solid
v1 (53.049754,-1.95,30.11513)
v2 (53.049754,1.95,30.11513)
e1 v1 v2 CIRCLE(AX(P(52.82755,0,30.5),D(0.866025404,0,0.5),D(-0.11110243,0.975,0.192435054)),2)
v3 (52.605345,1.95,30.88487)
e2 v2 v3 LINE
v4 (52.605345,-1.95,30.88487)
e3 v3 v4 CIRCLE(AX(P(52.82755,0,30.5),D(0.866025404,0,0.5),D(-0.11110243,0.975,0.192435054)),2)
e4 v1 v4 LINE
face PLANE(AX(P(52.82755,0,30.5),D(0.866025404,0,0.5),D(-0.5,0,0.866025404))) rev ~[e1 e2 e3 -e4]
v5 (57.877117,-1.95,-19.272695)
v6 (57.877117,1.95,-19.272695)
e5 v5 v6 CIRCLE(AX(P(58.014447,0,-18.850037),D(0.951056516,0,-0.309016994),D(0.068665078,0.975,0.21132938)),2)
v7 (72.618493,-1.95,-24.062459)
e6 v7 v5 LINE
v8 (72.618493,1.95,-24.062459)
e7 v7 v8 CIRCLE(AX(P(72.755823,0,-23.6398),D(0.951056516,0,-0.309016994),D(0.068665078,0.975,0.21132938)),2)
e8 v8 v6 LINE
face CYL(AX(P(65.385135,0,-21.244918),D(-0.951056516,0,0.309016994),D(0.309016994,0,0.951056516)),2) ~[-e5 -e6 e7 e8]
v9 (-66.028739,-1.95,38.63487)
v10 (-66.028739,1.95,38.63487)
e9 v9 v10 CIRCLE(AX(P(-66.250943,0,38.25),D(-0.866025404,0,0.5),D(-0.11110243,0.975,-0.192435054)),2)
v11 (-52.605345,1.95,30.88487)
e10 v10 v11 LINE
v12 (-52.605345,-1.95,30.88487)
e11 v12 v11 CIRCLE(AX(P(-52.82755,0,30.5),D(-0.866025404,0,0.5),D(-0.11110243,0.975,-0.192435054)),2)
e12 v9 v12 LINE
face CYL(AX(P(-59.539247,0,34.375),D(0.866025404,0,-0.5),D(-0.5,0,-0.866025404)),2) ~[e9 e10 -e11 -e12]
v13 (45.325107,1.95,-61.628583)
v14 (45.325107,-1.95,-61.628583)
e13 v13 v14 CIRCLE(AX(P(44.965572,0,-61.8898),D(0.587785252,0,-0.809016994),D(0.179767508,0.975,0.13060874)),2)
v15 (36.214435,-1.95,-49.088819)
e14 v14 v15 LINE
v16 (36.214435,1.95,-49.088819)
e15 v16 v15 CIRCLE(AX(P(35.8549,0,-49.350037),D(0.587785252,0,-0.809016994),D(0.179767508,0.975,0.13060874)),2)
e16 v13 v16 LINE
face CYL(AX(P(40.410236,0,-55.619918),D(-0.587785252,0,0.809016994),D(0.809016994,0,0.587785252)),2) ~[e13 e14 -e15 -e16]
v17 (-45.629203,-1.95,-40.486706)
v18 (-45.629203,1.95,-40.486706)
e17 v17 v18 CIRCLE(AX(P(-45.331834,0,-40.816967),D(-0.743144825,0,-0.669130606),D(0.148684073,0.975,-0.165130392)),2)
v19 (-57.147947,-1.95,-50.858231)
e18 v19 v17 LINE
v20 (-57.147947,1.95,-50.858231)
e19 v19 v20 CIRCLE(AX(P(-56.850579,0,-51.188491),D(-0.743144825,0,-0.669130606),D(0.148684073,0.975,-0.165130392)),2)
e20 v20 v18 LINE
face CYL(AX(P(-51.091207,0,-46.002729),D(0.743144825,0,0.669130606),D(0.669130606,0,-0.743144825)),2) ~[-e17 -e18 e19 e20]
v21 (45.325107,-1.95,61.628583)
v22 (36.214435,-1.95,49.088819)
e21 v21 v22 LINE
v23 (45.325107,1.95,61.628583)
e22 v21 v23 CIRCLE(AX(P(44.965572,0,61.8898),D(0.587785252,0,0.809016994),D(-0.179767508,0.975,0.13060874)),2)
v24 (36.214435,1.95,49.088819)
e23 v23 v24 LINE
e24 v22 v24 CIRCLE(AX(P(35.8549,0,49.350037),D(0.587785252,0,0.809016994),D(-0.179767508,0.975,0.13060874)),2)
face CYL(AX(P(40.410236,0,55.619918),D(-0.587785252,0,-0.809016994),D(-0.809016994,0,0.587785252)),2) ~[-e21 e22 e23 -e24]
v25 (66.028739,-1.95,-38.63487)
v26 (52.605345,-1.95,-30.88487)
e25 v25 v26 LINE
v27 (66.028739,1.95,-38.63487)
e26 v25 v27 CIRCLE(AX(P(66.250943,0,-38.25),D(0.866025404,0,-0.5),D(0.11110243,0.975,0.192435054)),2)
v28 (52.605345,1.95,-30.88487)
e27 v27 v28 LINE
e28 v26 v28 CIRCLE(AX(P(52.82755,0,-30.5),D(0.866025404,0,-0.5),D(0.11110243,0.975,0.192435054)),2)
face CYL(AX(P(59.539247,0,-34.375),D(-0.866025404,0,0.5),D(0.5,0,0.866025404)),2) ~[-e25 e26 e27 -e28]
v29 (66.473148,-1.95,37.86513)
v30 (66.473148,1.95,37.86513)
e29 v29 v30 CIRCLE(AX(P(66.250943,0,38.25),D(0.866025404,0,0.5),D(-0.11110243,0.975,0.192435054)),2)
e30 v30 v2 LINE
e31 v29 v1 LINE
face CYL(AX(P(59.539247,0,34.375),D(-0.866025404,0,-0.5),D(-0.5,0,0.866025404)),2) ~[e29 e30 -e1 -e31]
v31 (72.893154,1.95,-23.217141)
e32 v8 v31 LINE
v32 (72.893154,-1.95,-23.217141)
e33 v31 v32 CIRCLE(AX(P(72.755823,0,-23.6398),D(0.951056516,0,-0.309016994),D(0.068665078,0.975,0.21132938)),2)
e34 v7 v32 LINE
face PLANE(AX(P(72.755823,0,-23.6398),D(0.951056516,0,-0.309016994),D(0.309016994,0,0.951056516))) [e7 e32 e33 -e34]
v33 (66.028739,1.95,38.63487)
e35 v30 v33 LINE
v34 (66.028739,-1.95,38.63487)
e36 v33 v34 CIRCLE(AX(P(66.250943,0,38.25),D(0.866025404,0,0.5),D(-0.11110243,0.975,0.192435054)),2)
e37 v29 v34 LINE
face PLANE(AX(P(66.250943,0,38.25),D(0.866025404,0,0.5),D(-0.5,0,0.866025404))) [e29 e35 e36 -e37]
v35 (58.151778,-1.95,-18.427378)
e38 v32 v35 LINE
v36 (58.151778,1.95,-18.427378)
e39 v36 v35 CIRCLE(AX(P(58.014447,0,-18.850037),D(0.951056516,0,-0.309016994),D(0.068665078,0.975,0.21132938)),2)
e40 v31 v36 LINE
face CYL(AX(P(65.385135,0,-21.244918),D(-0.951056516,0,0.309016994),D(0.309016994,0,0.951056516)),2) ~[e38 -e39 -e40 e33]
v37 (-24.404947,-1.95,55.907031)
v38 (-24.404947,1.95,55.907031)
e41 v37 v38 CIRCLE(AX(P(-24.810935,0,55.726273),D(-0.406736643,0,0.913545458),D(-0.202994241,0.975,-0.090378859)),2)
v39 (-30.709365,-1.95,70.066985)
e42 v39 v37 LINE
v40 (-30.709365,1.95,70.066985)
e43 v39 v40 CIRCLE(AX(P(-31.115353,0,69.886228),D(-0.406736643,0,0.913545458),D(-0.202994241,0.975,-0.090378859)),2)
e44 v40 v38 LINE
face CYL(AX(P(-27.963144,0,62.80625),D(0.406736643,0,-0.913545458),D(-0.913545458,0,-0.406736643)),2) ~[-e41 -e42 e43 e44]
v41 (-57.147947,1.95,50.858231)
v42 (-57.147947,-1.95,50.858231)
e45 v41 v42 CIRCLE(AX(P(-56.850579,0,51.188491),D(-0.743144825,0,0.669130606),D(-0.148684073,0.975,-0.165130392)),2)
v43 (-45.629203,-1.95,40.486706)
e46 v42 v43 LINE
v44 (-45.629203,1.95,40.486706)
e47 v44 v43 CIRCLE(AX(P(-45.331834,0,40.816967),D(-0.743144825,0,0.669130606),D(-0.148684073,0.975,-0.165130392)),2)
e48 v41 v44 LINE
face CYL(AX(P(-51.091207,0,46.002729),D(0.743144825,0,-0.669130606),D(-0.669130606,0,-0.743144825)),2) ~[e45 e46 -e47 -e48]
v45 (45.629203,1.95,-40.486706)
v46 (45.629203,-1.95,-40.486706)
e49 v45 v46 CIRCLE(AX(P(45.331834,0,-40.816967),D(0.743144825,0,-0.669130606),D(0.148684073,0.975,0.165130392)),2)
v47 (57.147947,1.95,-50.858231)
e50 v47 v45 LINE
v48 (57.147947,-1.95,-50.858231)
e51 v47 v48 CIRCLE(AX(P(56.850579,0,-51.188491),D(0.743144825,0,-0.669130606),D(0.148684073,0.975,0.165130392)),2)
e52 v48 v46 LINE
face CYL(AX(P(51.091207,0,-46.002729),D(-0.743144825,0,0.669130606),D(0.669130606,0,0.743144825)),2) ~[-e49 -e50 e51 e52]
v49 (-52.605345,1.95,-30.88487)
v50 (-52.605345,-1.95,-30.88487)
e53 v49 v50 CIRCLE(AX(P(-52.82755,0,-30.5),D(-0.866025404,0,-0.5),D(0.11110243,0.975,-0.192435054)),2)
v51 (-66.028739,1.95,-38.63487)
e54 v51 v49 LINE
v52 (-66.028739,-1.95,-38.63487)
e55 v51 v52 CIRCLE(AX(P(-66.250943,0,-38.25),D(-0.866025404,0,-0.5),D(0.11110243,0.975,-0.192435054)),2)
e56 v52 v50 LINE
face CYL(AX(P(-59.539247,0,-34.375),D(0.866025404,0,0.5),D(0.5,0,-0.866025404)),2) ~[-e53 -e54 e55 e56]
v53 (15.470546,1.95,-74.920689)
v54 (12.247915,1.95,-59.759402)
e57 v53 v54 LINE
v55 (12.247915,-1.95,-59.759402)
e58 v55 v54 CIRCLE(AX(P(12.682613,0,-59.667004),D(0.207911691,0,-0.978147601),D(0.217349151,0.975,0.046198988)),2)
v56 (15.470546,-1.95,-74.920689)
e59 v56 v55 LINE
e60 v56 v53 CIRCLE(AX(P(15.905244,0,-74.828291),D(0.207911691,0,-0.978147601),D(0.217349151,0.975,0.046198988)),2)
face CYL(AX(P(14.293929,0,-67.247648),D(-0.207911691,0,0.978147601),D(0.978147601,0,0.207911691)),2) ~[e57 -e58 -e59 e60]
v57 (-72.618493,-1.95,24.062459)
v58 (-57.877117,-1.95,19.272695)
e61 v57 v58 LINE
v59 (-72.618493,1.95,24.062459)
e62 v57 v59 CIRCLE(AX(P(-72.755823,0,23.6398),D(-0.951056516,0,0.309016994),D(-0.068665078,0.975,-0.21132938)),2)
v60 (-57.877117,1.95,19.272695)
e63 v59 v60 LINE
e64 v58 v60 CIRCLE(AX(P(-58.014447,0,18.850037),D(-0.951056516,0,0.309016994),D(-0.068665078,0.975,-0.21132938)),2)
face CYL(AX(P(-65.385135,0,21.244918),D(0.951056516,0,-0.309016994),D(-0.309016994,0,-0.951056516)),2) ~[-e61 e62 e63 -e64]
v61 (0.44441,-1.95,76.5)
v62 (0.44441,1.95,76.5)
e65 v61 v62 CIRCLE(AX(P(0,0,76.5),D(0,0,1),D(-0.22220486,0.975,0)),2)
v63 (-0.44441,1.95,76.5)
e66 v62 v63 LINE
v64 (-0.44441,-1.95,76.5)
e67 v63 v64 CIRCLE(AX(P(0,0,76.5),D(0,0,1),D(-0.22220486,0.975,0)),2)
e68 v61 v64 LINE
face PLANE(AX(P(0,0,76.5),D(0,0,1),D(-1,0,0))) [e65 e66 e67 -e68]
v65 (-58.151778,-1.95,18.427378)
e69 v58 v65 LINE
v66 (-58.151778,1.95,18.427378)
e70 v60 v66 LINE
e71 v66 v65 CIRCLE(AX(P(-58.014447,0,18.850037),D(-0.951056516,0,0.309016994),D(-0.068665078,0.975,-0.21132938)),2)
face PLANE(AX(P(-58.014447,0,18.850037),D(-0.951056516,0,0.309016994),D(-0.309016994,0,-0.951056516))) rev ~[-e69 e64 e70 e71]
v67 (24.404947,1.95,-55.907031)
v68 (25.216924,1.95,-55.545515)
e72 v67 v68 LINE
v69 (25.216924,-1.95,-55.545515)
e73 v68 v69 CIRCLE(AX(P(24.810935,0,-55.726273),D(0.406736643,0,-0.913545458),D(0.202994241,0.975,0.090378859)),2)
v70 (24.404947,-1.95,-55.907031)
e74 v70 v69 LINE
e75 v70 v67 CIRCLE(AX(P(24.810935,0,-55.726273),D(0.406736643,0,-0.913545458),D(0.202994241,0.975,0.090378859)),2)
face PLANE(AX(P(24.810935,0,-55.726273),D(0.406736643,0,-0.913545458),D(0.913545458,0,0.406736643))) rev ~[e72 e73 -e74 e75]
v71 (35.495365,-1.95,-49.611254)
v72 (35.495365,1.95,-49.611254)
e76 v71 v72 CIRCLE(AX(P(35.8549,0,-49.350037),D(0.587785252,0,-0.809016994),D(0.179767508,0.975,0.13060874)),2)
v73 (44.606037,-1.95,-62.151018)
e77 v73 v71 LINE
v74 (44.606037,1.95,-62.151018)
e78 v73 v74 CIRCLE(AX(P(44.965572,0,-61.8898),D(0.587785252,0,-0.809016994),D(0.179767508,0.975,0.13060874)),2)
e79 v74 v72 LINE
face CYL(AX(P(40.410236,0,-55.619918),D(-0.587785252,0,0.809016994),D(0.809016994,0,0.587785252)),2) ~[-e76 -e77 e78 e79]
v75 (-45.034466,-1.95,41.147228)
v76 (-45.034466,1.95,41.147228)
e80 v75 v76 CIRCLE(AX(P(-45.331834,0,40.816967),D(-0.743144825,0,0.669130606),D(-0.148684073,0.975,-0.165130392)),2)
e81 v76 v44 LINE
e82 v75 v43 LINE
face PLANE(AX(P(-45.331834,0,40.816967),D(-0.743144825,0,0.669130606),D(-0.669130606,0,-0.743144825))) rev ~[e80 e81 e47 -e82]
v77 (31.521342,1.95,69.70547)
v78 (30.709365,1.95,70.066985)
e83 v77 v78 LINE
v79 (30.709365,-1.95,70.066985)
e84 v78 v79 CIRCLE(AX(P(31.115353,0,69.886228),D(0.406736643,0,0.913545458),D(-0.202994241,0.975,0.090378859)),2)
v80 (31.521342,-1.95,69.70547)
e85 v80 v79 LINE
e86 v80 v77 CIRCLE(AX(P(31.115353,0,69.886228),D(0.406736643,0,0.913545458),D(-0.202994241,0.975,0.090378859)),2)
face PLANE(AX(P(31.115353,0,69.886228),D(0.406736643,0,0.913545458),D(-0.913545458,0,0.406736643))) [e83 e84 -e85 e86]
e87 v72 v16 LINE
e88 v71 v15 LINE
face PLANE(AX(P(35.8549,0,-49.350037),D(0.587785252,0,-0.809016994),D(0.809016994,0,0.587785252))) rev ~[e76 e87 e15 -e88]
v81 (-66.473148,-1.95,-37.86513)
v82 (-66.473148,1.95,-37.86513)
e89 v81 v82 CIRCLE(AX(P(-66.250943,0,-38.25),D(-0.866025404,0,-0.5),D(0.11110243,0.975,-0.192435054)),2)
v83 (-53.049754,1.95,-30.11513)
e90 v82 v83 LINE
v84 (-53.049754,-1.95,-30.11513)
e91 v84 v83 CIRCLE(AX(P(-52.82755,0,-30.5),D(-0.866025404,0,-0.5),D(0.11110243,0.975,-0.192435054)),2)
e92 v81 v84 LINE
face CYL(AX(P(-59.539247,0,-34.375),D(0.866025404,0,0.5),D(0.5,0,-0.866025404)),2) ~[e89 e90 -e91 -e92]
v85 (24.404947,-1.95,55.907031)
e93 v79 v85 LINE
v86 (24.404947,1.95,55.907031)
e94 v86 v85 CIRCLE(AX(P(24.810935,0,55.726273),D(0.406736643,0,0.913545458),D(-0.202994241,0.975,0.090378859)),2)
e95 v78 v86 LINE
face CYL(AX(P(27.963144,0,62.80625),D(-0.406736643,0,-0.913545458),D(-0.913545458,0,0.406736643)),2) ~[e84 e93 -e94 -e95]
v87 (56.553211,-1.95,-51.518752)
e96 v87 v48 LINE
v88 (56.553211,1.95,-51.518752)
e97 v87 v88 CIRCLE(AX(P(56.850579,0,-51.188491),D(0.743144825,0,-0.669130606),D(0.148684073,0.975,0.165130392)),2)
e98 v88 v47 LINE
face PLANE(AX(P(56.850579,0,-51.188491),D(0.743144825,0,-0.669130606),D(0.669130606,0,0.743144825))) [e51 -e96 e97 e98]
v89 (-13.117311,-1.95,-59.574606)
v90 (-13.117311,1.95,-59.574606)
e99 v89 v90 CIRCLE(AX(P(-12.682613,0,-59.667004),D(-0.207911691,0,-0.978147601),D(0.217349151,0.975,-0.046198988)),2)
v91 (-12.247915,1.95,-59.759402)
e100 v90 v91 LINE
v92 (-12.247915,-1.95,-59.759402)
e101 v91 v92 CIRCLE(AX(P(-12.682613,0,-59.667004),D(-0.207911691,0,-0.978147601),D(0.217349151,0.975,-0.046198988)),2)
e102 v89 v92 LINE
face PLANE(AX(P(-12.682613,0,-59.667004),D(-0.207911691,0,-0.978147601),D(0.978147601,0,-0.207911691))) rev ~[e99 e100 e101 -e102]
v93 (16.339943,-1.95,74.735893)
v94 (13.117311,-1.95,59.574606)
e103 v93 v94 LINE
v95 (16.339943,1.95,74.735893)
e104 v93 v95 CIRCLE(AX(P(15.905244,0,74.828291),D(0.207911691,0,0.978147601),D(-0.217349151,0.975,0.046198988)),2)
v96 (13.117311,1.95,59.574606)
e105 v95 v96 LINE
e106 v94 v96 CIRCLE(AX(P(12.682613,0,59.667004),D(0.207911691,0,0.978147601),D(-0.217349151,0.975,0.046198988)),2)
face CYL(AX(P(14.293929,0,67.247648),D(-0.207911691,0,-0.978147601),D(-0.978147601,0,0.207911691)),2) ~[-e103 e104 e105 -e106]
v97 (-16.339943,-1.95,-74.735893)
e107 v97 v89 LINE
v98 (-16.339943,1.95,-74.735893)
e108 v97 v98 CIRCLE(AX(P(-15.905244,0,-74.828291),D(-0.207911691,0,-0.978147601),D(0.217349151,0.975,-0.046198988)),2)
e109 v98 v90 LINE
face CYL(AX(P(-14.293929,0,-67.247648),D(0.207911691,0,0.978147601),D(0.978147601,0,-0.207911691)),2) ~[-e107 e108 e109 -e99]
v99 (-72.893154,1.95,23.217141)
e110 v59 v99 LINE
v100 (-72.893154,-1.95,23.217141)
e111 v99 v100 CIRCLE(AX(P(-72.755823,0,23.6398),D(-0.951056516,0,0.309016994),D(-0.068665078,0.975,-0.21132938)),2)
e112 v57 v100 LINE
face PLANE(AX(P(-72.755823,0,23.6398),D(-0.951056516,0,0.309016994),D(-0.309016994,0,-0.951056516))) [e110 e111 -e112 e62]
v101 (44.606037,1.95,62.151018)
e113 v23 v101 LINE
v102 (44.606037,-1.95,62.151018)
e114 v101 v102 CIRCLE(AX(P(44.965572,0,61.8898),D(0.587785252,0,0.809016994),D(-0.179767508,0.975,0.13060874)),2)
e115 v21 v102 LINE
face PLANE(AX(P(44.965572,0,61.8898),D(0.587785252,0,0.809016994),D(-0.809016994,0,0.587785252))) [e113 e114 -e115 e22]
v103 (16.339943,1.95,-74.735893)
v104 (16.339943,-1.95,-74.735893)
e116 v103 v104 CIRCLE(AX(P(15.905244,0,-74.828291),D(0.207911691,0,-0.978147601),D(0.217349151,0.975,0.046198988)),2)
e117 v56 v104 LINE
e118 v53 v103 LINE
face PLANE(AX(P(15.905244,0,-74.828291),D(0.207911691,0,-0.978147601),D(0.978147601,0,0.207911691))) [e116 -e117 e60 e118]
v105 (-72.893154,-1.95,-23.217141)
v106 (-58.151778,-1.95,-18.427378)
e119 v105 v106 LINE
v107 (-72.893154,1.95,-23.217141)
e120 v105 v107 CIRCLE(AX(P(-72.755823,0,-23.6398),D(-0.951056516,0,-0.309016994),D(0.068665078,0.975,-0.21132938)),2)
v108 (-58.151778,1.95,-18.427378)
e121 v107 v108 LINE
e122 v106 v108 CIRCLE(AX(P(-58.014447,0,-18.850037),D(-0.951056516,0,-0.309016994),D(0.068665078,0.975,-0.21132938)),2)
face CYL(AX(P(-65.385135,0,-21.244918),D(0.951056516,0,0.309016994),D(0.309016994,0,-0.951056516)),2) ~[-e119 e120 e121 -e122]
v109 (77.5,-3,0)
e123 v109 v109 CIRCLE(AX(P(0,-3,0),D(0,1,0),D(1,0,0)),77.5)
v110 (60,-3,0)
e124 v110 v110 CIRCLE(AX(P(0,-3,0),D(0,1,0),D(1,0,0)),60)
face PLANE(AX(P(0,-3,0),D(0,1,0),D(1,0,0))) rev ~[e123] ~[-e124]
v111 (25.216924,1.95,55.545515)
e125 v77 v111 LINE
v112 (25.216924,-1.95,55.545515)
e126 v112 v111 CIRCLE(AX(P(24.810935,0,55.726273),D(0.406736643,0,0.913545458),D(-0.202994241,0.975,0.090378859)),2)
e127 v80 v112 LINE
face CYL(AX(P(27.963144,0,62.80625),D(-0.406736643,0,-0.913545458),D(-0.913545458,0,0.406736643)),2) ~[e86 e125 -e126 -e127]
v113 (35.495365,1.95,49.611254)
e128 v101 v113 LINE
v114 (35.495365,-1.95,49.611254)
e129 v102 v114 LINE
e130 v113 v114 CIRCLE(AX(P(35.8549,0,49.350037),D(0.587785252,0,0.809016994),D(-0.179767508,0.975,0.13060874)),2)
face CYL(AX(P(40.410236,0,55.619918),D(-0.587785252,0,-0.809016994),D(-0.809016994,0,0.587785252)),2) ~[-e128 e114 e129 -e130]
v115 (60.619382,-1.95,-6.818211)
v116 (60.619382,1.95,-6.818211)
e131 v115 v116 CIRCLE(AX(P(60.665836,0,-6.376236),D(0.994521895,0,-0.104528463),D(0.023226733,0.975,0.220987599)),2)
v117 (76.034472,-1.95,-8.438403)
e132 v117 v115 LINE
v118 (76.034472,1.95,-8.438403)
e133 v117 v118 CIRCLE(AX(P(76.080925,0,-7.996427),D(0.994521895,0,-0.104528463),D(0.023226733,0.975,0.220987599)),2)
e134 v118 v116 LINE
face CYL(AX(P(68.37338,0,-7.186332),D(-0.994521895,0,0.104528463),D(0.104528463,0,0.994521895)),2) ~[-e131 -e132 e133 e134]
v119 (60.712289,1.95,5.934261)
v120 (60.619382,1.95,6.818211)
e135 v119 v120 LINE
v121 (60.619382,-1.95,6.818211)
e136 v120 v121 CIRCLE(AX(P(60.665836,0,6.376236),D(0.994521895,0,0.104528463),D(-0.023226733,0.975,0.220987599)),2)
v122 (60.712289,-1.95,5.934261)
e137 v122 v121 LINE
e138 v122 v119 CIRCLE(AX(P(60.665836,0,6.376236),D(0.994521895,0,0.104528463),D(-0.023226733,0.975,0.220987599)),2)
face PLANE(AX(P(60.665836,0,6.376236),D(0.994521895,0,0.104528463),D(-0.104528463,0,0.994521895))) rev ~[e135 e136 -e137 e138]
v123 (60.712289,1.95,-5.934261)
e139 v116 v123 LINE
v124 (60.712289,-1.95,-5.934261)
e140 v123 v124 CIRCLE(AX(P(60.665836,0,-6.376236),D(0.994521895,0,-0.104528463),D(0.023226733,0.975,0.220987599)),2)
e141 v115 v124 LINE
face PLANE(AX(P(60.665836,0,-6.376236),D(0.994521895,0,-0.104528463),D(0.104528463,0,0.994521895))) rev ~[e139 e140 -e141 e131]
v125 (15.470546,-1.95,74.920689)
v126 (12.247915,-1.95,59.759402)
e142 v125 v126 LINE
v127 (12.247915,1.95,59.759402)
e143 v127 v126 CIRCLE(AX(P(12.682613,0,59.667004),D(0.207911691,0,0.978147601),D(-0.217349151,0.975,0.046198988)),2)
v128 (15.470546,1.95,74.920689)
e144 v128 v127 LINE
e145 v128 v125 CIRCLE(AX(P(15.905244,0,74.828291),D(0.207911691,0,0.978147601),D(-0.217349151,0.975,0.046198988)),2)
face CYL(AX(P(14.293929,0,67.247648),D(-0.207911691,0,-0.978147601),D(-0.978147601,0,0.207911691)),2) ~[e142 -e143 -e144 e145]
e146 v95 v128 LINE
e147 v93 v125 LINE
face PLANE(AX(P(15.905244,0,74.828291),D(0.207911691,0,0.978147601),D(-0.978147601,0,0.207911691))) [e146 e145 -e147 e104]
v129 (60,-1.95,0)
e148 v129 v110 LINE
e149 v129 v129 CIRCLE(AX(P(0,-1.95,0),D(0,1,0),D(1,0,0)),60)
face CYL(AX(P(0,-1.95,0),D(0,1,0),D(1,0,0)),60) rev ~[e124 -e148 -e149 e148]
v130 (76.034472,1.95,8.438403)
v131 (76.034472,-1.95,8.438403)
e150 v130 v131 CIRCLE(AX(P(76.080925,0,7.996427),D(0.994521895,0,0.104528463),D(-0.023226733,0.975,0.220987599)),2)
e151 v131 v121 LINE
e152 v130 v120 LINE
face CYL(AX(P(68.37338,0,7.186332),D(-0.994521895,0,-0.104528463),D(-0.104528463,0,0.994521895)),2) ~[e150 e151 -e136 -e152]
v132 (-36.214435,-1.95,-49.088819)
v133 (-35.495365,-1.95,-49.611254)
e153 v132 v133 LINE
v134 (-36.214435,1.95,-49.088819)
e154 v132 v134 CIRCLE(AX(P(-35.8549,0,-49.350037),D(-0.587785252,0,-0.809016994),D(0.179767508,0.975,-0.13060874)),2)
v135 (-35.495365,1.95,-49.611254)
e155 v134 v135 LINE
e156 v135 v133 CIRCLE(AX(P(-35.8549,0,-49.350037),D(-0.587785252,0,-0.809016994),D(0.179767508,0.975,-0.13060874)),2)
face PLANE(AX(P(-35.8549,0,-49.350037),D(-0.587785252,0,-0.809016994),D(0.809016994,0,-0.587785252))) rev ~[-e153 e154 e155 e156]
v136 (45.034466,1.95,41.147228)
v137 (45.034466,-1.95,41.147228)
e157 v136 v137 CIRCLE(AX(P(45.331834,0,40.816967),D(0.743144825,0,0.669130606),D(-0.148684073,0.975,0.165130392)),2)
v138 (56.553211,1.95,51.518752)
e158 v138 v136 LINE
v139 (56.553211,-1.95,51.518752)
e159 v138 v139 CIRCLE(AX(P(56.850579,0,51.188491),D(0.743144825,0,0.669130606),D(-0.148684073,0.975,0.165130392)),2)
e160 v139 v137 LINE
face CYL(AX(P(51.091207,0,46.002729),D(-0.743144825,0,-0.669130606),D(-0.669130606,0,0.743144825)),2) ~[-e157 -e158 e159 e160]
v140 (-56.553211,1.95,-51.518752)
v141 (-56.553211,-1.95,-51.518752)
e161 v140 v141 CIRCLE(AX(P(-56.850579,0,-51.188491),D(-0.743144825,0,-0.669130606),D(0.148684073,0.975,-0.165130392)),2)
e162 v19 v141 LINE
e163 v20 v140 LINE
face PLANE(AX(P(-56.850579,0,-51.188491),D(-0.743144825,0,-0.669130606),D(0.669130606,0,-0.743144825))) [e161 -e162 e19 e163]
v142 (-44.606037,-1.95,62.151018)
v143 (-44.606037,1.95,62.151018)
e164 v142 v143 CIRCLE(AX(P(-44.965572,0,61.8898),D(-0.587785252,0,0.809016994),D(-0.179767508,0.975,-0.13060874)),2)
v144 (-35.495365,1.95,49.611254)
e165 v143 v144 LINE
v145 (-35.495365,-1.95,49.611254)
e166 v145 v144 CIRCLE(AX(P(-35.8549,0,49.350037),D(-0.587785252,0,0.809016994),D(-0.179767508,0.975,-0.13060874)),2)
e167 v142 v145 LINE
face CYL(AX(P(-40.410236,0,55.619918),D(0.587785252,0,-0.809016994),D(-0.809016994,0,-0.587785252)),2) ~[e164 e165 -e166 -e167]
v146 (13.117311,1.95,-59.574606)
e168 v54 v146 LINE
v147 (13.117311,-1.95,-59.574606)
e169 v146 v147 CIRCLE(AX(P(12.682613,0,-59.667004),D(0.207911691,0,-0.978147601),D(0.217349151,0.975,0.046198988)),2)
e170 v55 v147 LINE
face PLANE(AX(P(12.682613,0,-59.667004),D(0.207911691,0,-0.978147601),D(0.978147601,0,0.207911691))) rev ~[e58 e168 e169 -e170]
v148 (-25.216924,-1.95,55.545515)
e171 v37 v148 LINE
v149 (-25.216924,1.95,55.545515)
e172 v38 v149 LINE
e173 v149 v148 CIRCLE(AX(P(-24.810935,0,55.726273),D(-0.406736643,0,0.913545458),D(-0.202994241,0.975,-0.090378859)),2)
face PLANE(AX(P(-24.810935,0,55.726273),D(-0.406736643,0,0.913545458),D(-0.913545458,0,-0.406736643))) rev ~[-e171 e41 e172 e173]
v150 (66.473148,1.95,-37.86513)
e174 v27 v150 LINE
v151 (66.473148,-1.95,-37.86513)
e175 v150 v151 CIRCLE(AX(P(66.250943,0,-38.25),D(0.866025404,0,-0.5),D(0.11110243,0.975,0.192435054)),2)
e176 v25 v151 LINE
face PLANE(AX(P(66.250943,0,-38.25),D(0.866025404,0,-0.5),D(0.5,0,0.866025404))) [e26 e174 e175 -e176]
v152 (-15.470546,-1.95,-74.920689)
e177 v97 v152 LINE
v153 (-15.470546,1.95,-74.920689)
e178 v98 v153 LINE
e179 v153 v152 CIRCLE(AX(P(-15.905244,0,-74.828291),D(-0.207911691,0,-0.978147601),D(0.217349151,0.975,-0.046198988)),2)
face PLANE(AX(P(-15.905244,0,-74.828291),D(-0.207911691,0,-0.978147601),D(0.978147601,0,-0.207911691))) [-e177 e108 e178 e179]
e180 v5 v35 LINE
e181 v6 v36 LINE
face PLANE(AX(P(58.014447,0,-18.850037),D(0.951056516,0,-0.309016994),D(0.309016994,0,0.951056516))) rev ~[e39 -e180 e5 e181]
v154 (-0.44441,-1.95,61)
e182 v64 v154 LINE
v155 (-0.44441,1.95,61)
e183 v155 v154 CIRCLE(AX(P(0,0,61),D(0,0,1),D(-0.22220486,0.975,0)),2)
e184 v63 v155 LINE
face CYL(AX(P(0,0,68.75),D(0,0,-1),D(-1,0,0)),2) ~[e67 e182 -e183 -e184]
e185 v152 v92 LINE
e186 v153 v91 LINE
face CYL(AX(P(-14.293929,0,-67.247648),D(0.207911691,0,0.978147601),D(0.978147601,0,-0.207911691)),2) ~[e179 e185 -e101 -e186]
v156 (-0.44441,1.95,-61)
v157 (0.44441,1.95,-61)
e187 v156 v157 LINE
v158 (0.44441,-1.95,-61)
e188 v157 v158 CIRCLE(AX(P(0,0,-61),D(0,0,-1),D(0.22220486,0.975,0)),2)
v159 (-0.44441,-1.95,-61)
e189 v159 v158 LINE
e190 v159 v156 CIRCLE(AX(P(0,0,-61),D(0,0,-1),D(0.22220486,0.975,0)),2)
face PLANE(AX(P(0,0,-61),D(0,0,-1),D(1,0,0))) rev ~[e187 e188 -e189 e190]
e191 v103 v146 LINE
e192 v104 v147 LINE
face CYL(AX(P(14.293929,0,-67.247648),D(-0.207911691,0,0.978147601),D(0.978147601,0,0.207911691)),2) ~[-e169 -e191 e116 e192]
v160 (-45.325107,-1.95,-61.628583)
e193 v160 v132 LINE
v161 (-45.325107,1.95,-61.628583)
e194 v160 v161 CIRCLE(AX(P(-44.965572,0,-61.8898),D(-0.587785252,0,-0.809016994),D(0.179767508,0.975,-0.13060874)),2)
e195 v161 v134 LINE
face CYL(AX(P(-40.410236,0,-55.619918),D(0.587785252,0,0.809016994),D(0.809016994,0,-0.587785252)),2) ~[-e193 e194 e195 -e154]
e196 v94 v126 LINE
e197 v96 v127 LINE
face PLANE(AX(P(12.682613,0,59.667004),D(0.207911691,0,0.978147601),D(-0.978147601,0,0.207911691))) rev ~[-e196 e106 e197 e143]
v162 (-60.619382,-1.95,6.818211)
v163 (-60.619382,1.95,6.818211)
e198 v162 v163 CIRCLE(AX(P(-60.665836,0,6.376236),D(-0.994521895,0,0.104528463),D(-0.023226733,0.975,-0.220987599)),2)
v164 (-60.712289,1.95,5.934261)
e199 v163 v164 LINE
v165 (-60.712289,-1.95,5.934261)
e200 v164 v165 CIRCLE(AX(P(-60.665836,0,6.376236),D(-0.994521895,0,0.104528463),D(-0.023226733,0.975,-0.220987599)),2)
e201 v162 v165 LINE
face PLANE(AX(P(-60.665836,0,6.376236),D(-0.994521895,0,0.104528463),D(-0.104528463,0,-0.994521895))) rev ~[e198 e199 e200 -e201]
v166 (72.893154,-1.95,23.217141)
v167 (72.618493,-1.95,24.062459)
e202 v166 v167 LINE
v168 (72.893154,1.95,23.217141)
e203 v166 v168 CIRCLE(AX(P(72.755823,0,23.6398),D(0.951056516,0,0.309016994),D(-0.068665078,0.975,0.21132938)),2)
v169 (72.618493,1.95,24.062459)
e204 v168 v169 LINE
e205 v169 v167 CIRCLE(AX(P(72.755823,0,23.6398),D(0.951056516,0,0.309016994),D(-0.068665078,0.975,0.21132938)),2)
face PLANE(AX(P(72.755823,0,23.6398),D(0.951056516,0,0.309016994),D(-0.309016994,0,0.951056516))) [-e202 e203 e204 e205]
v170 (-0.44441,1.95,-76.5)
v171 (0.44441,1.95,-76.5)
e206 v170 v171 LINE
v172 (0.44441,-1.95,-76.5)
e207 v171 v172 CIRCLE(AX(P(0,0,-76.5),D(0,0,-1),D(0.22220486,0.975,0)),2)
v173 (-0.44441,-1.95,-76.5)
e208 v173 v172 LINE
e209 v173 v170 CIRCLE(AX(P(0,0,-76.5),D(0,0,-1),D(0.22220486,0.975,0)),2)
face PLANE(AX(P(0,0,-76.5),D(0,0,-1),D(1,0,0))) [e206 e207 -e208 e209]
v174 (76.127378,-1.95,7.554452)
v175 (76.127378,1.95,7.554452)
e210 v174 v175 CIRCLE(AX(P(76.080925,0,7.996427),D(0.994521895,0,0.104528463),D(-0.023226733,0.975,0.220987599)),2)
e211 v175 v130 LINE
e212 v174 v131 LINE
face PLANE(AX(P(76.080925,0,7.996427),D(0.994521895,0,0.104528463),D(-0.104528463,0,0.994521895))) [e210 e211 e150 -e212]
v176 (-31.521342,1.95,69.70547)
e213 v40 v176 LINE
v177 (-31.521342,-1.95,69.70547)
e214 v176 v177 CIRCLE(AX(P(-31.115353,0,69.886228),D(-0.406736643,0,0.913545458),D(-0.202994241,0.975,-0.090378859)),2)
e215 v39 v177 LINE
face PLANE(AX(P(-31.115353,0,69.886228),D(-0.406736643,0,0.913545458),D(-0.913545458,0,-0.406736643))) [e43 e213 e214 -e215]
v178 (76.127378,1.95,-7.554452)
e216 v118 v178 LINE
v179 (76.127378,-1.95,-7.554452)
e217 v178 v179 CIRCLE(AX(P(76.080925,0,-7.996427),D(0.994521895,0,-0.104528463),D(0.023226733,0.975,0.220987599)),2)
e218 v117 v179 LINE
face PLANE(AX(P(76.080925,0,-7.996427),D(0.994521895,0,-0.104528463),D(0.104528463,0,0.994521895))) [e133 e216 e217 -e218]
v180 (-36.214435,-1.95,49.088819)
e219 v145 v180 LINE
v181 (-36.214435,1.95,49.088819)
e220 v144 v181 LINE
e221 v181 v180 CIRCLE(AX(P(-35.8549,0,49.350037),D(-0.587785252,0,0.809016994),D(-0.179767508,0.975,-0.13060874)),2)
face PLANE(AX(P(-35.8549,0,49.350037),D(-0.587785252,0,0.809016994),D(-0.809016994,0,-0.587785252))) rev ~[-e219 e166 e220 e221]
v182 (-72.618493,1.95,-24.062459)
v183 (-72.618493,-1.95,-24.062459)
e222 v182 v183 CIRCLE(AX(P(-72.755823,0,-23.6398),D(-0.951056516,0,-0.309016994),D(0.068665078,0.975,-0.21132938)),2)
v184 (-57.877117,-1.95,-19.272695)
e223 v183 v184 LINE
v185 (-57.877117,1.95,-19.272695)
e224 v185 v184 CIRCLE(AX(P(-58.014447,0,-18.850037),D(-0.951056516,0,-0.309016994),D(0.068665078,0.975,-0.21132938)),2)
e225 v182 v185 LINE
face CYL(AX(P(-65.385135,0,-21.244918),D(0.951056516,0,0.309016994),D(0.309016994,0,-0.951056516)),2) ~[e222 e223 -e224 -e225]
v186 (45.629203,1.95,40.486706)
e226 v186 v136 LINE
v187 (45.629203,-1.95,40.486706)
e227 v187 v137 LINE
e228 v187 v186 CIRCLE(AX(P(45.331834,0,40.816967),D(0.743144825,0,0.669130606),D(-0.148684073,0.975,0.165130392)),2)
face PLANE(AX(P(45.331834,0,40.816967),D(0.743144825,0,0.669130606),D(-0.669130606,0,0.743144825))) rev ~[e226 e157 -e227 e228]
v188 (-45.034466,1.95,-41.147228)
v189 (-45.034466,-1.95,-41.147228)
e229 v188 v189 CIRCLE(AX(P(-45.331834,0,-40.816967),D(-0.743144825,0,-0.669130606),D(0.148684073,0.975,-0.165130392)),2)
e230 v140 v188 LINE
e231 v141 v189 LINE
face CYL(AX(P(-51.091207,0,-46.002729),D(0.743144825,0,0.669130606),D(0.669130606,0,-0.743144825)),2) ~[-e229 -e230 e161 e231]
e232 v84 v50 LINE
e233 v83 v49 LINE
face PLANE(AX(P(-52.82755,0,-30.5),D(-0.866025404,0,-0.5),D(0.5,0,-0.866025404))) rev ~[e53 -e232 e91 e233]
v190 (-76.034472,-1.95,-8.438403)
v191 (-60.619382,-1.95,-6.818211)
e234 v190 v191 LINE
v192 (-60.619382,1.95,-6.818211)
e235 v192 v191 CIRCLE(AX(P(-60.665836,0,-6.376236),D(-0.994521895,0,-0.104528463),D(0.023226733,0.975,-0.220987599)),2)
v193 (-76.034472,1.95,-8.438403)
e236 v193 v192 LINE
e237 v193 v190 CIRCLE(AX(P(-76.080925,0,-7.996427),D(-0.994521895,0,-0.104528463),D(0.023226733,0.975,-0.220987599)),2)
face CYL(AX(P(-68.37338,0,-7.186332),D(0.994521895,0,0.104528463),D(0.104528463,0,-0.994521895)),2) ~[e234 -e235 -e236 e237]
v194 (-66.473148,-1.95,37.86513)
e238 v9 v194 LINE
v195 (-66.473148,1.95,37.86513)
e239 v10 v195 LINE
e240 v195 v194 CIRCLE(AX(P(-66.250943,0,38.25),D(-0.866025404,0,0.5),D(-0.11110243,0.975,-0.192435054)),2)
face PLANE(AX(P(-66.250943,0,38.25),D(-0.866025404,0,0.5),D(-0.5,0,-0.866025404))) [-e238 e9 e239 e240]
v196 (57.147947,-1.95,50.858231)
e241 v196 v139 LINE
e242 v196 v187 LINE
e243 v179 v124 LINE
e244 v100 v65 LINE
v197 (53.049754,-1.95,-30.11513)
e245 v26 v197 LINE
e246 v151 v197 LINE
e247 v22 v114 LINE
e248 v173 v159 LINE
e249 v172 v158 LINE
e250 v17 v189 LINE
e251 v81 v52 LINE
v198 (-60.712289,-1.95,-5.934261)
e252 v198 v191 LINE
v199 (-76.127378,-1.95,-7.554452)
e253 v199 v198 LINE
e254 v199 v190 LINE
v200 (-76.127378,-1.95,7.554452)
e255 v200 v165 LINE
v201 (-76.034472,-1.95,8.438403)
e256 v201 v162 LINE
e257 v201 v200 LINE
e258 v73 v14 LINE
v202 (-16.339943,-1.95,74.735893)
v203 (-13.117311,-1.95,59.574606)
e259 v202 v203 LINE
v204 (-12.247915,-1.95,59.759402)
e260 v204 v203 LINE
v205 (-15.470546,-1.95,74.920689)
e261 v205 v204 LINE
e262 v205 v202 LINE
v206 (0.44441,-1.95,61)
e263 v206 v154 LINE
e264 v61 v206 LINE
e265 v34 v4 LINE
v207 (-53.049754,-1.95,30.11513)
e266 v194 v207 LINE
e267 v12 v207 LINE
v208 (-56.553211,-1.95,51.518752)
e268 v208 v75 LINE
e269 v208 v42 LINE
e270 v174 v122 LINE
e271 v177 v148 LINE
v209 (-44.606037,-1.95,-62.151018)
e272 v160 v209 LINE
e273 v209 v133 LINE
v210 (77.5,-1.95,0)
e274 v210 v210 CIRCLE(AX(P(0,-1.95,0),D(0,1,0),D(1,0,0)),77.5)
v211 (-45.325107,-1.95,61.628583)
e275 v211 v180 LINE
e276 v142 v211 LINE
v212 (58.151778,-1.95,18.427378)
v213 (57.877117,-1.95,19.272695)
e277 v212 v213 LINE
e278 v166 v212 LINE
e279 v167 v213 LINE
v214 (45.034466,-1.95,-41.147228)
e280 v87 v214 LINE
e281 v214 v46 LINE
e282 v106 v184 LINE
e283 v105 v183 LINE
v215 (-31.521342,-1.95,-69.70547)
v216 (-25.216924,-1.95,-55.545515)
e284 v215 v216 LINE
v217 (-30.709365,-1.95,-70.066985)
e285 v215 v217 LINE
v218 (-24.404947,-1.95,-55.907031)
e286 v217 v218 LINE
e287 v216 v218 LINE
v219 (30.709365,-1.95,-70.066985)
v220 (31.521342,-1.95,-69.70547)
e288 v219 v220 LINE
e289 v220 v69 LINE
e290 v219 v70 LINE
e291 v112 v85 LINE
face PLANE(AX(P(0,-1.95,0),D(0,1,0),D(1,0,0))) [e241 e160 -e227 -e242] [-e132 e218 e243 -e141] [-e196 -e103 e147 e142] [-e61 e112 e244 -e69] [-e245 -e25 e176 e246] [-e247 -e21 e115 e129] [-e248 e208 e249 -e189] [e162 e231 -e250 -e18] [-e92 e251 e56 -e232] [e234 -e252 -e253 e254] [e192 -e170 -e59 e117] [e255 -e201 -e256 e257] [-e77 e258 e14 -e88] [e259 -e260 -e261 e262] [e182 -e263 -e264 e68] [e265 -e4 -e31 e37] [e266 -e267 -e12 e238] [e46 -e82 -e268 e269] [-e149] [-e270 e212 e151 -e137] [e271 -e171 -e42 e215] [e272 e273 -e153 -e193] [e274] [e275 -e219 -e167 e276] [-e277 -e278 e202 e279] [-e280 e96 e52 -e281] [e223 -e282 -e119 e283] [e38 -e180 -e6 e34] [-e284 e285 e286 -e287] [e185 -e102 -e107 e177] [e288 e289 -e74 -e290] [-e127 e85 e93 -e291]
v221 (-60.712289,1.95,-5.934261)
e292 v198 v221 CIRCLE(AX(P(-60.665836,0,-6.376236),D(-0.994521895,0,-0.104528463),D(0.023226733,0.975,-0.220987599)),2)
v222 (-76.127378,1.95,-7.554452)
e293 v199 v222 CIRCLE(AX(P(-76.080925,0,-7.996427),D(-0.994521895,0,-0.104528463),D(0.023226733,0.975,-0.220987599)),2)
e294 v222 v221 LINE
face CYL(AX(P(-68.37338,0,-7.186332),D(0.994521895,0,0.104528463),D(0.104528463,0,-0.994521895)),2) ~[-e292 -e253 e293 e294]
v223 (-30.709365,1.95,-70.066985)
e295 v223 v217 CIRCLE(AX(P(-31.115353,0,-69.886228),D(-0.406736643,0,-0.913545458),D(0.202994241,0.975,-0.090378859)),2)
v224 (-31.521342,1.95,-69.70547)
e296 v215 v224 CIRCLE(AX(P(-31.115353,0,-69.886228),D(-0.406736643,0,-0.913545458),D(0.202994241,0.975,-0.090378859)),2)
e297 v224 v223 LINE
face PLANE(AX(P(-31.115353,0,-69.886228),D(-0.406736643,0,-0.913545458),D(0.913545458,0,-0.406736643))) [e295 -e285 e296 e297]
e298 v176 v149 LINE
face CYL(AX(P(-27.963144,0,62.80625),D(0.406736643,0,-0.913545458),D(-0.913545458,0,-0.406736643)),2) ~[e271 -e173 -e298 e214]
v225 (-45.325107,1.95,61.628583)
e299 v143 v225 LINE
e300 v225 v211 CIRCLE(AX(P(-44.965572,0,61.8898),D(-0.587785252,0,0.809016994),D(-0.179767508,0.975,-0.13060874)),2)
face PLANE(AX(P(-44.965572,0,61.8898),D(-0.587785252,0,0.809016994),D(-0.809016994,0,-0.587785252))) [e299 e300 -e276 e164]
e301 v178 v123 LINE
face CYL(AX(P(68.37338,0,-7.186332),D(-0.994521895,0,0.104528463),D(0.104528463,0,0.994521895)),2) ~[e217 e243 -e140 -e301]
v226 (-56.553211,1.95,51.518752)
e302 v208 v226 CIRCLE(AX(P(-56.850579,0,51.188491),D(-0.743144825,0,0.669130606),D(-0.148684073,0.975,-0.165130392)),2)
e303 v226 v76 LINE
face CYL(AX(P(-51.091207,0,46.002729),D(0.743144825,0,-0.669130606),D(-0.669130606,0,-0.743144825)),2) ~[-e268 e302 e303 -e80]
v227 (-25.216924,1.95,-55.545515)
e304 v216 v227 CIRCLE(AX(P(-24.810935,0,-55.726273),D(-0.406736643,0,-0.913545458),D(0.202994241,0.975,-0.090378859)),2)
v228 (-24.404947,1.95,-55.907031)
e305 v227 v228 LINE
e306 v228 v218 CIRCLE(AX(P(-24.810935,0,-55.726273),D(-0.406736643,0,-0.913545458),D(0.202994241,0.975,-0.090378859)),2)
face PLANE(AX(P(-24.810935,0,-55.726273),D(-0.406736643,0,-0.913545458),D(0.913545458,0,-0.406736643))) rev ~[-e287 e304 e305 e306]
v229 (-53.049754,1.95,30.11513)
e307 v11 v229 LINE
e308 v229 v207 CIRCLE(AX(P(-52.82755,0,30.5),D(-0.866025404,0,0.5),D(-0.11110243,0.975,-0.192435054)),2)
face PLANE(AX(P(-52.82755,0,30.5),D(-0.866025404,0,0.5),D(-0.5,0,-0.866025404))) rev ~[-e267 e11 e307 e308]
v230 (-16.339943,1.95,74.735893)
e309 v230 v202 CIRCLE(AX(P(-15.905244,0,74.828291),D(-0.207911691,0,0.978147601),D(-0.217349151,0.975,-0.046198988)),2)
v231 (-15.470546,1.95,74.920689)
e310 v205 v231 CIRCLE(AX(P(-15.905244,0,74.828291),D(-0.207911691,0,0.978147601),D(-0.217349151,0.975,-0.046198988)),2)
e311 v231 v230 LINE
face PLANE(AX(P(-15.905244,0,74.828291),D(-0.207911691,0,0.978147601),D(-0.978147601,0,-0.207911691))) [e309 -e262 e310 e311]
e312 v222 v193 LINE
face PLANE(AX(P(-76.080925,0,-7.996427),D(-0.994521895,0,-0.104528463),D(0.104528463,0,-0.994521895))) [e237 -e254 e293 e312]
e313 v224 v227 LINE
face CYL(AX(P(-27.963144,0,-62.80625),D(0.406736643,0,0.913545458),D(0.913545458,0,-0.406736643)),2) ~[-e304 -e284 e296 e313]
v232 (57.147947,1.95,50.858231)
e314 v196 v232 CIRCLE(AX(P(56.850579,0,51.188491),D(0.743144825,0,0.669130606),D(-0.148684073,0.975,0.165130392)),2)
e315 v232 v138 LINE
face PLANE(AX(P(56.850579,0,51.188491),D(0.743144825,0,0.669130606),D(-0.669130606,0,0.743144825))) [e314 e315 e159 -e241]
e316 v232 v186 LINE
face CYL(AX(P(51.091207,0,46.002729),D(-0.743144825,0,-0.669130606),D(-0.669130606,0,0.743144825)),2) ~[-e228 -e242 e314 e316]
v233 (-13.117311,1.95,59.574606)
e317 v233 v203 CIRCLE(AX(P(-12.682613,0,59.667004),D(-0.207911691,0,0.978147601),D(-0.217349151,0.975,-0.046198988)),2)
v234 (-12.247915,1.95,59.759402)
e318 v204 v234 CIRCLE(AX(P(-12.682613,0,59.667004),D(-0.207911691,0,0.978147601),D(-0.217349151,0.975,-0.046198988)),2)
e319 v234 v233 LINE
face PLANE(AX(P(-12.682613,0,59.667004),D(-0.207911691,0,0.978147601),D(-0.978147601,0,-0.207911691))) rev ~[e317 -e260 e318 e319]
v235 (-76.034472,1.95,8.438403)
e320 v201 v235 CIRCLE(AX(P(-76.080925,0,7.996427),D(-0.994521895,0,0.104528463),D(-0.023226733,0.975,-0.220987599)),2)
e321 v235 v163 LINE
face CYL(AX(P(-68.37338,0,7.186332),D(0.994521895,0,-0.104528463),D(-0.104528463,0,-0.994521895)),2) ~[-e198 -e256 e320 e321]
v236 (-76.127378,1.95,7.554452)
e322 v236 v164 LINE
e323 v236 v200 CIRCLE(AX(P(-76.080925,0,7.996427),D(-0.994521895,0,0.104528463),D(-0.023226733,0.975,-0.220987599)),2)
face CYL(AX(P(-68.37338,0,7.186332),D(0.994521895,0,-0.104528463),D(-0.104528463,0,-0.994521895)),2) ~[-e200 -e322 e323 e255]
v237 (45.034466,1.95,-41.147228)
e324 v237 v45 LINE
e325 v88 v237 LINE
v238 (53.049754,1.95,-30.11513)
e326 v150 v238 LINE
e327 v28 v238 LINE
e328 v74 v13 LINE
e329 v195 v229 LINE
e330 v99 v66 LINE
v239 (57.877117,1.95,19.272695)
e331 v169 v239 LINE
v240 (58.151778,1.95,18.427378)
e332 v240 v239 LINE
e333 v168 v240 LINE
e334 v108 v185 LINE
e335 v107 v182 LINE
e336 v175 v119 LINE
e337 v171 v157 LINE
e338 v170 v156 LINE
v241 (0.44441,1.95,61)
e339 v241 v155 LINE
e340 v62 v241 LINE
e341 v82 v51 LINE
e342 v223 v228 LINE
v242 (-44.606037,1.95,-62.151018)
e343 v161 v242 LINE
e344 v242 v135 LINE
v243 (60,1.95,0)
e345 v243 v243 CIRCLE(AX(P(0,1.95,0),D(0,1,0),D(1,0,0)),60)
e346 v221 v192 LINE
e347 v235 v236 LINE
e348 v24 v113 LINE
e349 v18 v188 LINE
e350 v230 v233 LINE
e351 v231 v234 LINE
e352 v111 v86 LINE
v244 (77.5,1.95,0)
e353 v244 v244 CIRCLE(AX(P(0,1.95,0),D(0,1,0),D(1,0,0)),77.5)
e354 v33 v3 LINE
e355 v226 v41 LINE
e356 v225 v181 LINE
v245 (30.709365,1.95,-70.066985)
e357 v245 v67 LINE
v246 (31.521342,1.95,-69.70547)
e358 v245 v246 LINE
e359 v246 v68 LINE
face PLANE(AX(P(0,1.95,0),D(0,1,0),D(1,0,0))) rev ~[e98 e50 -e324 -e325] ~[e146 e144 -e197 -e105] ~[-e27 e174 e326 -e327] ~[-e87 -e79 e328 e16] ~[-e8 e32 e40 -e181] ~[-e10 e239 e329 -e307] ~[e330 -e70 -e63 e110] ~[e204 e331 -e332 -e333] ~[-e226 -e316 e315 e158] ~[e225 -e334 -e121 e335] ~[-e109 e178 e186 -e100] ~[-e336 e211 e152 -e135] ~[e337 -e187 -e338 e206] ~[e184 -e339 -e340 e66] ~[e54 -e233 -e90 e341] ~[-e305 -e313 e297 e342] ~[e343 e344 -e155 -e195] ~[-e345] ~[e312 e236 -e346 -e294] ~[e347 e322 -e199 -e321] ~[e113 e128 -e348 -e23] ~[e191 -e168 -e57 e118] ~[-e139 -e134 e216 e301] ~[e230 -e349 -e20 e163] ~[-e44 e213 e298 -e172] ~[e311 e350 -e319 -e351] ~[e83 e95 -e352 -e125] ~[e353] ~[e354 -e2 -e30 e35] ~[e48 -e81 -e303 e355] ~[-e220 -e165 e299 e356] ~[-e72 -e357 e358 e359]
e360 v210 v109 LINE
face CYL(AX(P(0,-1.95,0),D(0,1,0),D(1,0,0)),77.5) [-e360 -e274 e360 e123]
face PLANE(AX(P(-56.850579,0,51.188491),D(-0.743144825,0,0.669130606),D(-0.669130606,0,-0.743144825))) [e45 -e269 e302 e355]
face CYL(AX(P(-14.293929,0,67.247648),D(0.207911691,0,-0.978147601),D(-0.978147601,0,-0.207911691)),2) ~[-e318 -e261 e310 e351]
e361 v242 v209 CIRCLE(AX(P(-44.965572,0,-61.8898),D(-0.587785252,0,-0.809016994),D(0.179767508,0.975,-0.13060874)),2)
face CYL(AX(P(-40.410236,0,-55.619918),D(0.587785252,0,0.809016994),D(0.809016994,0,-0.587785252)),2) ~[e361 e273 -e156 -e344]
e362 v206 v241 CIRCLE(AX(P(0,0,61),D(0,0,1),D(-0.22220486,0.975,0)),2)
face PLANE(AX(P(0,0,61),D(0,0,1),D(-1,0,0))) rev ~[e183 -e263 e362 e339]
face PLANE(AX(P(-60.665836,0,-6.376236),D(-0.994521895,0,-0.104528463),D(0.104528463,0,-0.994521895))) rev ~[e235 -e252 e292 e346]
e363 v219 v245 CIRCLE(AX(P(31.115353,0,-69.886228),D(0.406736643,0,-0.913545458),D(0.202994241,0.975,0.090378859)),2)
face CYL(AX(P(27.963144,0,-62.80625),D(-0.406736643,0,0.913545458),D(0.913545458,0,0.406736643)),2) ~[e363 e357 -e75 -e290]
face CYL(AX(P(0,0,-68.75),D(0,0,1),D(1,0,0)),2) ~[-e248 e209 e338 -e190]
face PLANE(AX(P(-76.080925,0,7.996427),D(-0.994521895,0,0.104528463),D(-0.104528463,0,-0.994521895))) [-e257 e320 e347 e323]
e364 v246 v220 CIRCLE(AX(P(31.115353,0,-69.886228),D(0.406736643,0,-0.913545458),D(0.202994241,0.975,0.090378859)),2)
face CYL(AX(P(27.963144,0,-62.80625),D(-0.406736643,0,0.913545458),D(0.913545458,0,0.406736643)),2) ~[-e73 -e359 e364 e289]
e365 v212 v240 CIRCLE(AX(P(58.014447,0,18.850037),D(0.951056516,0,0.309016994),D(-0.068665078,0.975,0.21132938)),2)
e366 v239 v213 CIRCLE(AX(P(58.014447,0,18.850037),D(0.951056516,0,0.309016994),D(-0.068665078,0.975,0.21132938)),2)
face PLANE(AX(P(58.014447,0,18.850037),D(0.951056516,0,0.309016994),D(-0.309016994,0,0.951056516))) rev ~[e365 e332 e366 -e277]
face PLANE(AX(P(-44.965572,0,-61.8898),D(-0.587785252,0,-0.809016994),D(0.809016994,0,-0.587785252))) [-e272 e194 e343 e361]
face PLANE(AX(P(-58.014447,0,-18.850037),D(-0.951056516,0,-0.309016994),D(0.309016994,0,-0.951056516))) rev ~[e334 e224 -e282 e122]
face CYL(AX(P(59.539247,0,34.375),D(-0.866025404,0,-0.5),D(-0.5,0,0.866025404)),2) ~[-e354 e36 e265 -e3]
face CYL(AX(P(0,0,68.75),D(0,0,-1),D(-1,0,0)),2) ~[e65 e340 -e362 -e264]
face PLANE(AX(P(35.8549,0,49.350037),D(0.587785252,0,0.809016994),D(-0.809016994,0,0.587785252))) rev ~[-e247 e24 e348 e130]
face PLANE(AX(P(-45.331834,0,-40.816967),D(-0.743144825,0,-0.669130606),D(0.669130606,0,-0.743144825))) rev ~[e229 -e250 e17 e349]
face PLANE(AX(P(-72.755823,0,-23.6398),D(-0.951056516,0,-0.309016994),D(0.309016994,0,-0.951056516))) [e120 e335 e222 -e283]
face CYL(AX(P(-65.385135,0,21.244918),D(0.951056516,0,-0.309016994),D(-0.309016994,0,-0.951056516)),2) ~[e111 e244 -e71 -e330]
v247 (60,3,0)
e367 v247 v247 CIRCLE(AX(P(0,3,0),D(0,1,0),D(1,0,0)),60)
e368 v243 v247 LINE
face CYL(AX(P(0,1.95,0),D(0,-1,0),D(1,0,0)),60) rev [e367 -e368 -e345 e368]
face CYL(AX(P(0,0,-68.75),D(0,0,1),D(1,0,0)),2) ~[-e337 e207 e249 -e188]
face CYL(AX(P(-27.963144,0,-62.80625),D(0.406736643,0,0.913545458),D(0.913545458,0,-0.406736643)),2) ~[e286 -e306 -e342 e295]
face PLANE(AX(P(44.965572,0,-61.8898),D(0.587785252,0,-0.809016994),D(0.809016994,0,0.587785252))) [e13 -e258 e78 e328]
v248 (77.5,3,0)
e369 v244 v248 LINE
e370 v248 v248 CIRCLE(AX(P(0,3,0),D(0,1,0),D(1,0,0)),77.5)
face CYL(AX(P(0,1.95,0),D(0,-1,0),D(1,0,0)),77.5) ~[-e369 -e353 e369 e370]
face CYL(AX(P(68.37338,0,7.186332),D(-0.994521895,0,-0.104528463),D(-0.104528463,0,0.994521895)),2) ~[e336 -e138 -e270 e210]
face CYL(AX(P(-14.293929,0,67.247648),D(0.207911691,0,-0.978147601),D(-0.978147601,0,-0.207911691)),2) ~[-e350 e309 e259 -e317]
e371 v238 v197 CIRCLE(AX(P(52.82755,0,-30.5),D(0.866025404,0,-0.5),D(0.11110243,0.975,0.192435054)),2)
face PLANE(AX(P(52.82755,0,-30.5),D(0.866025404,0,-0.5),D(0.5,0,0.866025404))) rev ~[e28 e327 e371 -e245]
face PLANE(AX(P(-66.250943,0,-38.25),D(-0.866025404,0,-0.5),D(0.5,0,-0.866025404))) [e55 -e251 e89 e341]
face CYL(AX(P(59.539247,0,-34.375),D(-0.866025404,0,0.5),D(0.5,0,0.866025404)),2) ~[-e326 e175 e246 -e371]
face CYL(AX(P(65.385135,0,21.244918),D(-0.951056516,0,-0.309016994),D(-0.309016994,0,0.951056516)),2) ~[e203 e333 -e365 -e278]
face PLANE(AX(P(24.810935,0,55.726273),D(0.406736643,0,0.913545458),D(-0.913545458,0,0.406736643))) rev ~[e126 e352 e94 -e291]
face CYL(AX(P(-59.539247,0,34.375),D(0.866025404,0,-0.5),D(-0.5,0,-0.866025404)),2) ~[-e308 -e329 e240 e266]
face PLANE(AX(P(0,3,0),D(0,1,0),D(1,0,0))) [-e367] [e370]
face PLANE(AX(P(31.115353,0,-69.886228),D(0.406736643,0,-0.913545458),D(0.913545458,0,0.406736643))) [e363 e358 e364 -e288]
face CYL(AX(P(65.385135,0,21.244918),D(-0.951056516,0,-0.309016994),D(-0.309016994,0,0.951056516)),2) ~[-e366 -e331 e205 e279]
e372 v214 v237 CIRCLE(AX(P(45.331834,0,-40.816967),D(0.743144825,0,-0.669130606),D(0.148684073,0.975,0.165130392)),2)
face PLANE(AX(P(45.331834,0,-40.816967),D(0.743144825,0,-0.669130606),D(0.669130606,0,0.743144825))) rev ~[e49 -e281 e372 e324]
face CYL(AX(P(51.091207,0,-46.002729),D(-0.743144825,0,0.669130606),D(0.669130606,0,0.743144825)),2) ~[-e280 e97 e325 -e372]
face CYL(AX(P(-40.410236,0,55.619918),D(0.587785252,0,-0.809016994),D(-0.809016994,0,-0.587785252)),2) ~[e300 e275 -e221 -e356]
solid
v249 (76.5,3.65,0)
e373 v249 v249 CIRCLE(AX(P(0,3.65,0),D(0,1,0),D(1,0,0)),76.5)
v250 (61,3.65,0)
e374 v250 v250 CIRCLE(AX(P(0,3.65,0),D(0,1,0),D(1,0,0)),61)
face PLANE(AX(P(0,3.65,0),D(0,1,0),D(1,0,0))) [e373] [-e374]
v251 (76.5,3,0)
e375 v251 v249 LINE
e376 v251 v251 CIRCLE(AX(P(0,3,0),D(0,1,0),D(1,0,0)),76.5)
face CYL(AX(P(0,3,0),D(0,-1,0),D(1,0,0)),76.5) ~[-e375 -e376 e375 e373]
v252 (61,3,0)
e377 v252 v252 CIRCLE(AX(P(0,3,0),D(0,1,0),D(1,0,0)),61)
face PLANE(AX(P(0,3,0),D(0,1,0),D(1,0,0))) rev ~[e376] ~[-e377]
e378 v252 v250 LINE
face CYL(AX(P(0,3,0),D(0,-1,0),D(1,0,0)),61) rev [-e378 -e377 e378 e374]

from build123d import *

# Parameters (mm, degrees)
SKETCH2_W           = 2
SKETCH2_H           = 15.5
CIRPATTERN2_COUNT   = 30
SKETCH4_R           = 77.5
SKETCH4_R_2         = 60
BOSS_EXTRUDE1_DEPTH = 1.05
SKETCH5_R           = 77.5
SKETCH5_R_2         = 60
BOSS_EXTRUDE2_DEPTH = 1.05
SKETCH6_R           = 76.5
SKETCH6_R_2         = 61
BOSS_EXTRUDE3_DEPTH = 0.65


with BuildPart() as part:
    # Sketch2 → Revolve1 (revolve)
    with BuildSketch(Plane(origin=(0, 0, 0), x_dir=(1, 0, 0), z_dir=(0, 1, 0))):
        with Locations((-1, -68.75)):
            Rectangle(SKETCH2_W, SKETCH2_H)
    revolve(axis=Axis((0, 0, 0), (0, 0, 1)))


with BuildPart() as cirpattern2_1:
    # CirPattern2: pattern copy
    add(part.part.rotate(Axis((0, 0, 0), (0, 1, 0)), 1 * 360 / CIRPATTERN2_COUNT))


with BuildPart() as cirpattern2_2:
    # CirPattern2: pattern copy
    add(part.part.rotate(Axis((0, 0, 0), (0, 1, 0)), 2 * 360 / CIRPATTERN2_COUNT))


with BuildPart() as cirpattern2_3:
    # CirPattern2: pattern copy
    add(part.part.rotate(Axis((0, 0, 0), (0, 1, 0)), 3 * 360 / CIRPATTERN2_COUNT))


with BuildPart() as cirpattern2_4:
    # CirPattern2: pattern copy
    add(part.part.rotate(Axis((0, 0, 0), (0, 1, 0)), 4 * 360 / CIRPATTERN2_COUNT))


with BuildPart() as cirpattern2_5:
    # CirPattern2: pattern copy
    add(part.part.rotate(Axis((0, 0, 0), (0, 1, 0)), 5 * 360 / CIRPATTERN2_COUNT))


with BuildPart() as cirpattern2_6:
    # CirPattern2: pattern copy
    add(part.part.rotate(Axis((0, 0, 0), (0, 1, 0)), 6 * 360 / CIRPATTERN2_COUNT))


with BuildPart() as cirpattern2_7:
    # CirPattern2: pattern copy
    add(part.part.rotate(Axis((0, 0, 0), (0, 1, 0)), 7 * 360 / CIRPATTERN2_COUNT))


with BuildPart() as cirpattern2_8:
    # CirPattern2: pattern copy
    add(part.part.rotate(Axis((0, 0, 0), (0, 1, 0)), 8 * 360 / CIRPATTERN2_COUNT))


with BuildPart() as cirpattern2_9:
    # CirPattern2: pattern copy
    add(part.part.rotate(Axis((0, 0, 0), (0, 1, 0)), 9 * 360 / CIRPATTERN2_COUNT))


with BuildPart() as cirpattern2_10:
    # CirPattern2: pattern copy
    add(part.part.rotate(Axis((0, 0, 0), (0, 1, 0)), 10 * 360 / CIRPATTERN2_COUNT))


with BuildPart() as cirpattern2_11:
    # CirPattern2: pattern copy
    add(part.part.rotate(Axis((0, 0, 0), (0, 1, 0)), 11 * 360 / CIRPATTERN2_COUNT))


with BuildPart() as cirpattern2_12:
    # CirPattern2: pattern copy
    add(part.part.rotate(Axis((0, 0, 0), (0, 1, 0)), 12 * 360 / CIRPATTERN2_COUNT))


with BuildPart() as cirpattern2_13:
    # CirPattern2: pattern copy
    add(part.part.rotate(Axis((0, 0, 0), (0, 1, 0)), 13 * 360 / CIRPATTERN2_COUNT))


with BuildPart() as cirpattern2_14:
    # CirPattern2: pattern copy
    add(part.part.rotate(Axis((0, 0, 0), (0, 1, 0)), 14 * 360 / CIRPATTERN2_COUNT))


with BuildPart() as cirpattern2_15:
    # CirPattern2: pattern copy
    add(part.part.rotate(Axis((0, 0, 0), (0, 1, 0)), 15 * 360 / CIRPATTERN2_COUNT))


with BuildPart() as cirpattern2_16:
    # CirPattern2: pattern copy
    add(part.part.rotate(Axis((0, 0, 0), (0, 1, 0)), 16 * 360 / CIRPATTERN2_COUNT))


with BuildPart() as cirpattern2_17:
    # CirPattern2: pattern copy
    add(part.part.rotate(Axis((0, 0, 0), (0, 1, 0)), 17 * 360 / CIRPATTERN2_COUNT))


with BuildPart() as cirpattern2_18:
    # CirPattern2: pattern copy
    add(part.part.rotate(Axis((0, 0, 0), (0, 1, 0)), 18 * 360 / CIRPATTERN2_COUNT))


with BuildPart() as cirpattern2_19:
    # CirPattern2: pattern copy
    add(part.part.rotate(Axis((0, 0, 0), (0, 1, 0)), 19 * 360 / CIRPATTERN2_COUNT))


with BuildPart() as cirpattern2_20:
    # CirPattern2: pattern copy
    add(part.part.rotate(Axis((0, 0, 0), (0, 1, 0)), 20 * 360 / CIRPATTERN2_COUNT))


with BuildPart() as cirpattern2_21:
    # CirPattern2: pattern copy
    add(part.part.rotate(Axis((0, 0, 0), (0, 1, 0)), 21 * 360 / CIRPATTERN2_COUNT))


with BuildPart() as cirpattern2_22:
    # CirPattern2: pattern copy
    add(part.part.rotate(Axis((0, 0, 0), (0, 1, 0)), 22 * 360 / CIRPATTERN2_COUNT))


with BuildPart() as cirpattern2_23:
    # CirPattern2: pattern copy
    add(part.part.rotate(Axis((0, 0, 0), (0, 1, 0)), 23 * 360 / CIRPATTERN2_COUNT))


with BuildPart() as cirpattern2_24:
    # CirPattern2: pattern copy
    add(part.part.rotate(Axis((0, 0, 0), (0, 1, 0)), 24 * 360 / CIRPATTERN2_COUNT))


with BuildPart() as cirpattern2_25:
    # CirPattern2: pattern copy
    add(part.part.rotate(Axis((0, 0, 0), (0, 1, 0)), 25 * 360 / CIRPATTERN2_COUNT))


with BuildPart() as cirpattern2_26:
    # CirPattern2: pattern copy
    add(part.part.rotate(Axis((0, 0, 0), (0, 1, 0)), 26 * 360 / CIRPATTERN2_COUNT))


with BuildPart() as cirpattern2_27:
    # CirPattern2: pattern copy
    add(part.part.rotate(Axis((0, 0, 0), (0, 1, 0)), 27 * 360 / CIRPATTERN2_COUNT))


with BuildPart() as cirpattern2_28:
    # CirPattern2: pattern copy
    add(part.part.rotate(Axis((0, 0, 0), (0, 1, 0)), 28 * 360 / CIRPATTERN2_COUNT))


with BuildPart() as cirpattern2_29:
    # CirPattern2: pattern copy
    add(part.part.rotate(Axis((0, 0, 0), (0, 1, 0)), 29 * 360 / CIRPATTERN2_COUNT))


with BuildPart() as part_1:
    add(part.part)

    add(cirpattern2_1.part)  # Boss-Extrude1 merges CirPattern2_1

    add(cirpattern2_2.part)  # Boss-Extrude1 merges CirPattern2_2

    add(cirpattern2_3.part)  # Boss-Extrude1 merges CirPattern2_3

    add(cirpattern2_4.part)  # Boss-Extrude1 merges CirPattern2_4

    add(cirpattern2_5.part)  # Boss-Extrude1 merges CirPattern2_5

    add(cirpattern2_6.part)  # Boss-Extrude1 merges CirPattern2_6

    add(cirpattern2_7.part)  # Boss-Extrude1 merges CirPattern2_7

    add(cirpattern2_8.part)  # Boss-Extrude1 merges CirPattern2_8

    add(cirpattern2_9.part)  # Boss-Extrude1 merges CirPattern2_9

    add(cirpattern2_10.part)  # Boss-Extrude1 merges CirPattern2_10

    add(cirpattern2_11.part)  # Boss-Extrude1 merges CirPattern2_11

    add(cirpattern2_12.part)  # Boss-Extrude1 merges CirPattern2_12

    add(cirpattern2_13.part)  # Boss-Extrude1 merges CirPattern2_13

    add(cirpattern2_14.part)  # Boss-Extrude1 merges CirPattern2_14

    add(cirpattern2_15.part)  # Boss-Extrude1 merges CirPattern2_15

    add(cirpattern2_16.part)  # Boss-Extrude1 merges CirPattern2_16

    add(cirpattern2_17.part)  # Boss-Extrude1 merges CirPattern2_17

    add(cirpattern2_18.part)  # Boss-Extrude1 merges CirPattern2_18

    add(cirpattern2_19.part)  # Boss-Extrude1 merges CirPattern2_19

    add(cirpattern2_20.part)  # Boss-Extrude1 merges CirPattern2_20

    add(cirpattern2_21.part)  # Boss-Extrude1 merges CirPattern2_21

    add(cirpattern2_22.part)  # Boss-Extrude1 merges CirPattern2_22

    add(cirpattern2_23.part)  # Boss-Extrude1 merges CirPattern2_23

    add(cirpattern2_24.part)  # Boss-Extrude1 merges CirPattern2_24

    add(cirpattern2_25.part)  # Boss-Extrude1 merges CirPattern2_25

    add(cirpattern2_26.part)  # Boss-Extrude1 merges CirPattern2_26

    add(cirpattern2_27.part)  # Boss-Extrude1 merges CirPattern2_27

    add(cirpattern2_28.part)  # Boss-Extrude1 merges CirPattern2_28

    add(cirpattern2_29.part)  # Boss-Extrude1 merges CirPattern2_29
    # Sketch4 → Boss-Extrude1 (add)
    with BuildSketch(Plane(origin=(0, 1.95, 0), x_dir=(1, 0, 0), z_dir=(0, 1, 0))):
        Circle(SKETCH4_R)
        Circle(SKETCH4_R_2, mode=Mode.SUBTRACT)
    extrude(amount=BOSS_EXTRUDE1_DEPTH)

    # Sketch5 → Boss-Extrude2 (add)
    with BuildSketch(Plane(origin=(0, -1.95, 0), x_dir=(1, 0, 0), z_dir=(0, 1, 0))):
        Circle(SKETCH5_R)
        Circle(SKETCH5_R_2, mode=Mode.SUBTRACT)
    extrude(amount=-BOSS_EXTRUDE2_DEPTH)


with BuildPart() as body_2:
    # Sketch6 → Boss-Extrude3 (new body)
    with BuildSketch(Plane(origin=(0, 3, 0), x_dir=(1, 0, 0), z_dir=(0, 1, 0))):
        Circle(SKETCH6_R)
        Circle(SKETCH6_R_2, mode=Mode.SUBTRACT)
    extrude(amount=BOSS_EXTRUDE3_DEPTH)


solid = Compound([part_1.part, body_2.part])
